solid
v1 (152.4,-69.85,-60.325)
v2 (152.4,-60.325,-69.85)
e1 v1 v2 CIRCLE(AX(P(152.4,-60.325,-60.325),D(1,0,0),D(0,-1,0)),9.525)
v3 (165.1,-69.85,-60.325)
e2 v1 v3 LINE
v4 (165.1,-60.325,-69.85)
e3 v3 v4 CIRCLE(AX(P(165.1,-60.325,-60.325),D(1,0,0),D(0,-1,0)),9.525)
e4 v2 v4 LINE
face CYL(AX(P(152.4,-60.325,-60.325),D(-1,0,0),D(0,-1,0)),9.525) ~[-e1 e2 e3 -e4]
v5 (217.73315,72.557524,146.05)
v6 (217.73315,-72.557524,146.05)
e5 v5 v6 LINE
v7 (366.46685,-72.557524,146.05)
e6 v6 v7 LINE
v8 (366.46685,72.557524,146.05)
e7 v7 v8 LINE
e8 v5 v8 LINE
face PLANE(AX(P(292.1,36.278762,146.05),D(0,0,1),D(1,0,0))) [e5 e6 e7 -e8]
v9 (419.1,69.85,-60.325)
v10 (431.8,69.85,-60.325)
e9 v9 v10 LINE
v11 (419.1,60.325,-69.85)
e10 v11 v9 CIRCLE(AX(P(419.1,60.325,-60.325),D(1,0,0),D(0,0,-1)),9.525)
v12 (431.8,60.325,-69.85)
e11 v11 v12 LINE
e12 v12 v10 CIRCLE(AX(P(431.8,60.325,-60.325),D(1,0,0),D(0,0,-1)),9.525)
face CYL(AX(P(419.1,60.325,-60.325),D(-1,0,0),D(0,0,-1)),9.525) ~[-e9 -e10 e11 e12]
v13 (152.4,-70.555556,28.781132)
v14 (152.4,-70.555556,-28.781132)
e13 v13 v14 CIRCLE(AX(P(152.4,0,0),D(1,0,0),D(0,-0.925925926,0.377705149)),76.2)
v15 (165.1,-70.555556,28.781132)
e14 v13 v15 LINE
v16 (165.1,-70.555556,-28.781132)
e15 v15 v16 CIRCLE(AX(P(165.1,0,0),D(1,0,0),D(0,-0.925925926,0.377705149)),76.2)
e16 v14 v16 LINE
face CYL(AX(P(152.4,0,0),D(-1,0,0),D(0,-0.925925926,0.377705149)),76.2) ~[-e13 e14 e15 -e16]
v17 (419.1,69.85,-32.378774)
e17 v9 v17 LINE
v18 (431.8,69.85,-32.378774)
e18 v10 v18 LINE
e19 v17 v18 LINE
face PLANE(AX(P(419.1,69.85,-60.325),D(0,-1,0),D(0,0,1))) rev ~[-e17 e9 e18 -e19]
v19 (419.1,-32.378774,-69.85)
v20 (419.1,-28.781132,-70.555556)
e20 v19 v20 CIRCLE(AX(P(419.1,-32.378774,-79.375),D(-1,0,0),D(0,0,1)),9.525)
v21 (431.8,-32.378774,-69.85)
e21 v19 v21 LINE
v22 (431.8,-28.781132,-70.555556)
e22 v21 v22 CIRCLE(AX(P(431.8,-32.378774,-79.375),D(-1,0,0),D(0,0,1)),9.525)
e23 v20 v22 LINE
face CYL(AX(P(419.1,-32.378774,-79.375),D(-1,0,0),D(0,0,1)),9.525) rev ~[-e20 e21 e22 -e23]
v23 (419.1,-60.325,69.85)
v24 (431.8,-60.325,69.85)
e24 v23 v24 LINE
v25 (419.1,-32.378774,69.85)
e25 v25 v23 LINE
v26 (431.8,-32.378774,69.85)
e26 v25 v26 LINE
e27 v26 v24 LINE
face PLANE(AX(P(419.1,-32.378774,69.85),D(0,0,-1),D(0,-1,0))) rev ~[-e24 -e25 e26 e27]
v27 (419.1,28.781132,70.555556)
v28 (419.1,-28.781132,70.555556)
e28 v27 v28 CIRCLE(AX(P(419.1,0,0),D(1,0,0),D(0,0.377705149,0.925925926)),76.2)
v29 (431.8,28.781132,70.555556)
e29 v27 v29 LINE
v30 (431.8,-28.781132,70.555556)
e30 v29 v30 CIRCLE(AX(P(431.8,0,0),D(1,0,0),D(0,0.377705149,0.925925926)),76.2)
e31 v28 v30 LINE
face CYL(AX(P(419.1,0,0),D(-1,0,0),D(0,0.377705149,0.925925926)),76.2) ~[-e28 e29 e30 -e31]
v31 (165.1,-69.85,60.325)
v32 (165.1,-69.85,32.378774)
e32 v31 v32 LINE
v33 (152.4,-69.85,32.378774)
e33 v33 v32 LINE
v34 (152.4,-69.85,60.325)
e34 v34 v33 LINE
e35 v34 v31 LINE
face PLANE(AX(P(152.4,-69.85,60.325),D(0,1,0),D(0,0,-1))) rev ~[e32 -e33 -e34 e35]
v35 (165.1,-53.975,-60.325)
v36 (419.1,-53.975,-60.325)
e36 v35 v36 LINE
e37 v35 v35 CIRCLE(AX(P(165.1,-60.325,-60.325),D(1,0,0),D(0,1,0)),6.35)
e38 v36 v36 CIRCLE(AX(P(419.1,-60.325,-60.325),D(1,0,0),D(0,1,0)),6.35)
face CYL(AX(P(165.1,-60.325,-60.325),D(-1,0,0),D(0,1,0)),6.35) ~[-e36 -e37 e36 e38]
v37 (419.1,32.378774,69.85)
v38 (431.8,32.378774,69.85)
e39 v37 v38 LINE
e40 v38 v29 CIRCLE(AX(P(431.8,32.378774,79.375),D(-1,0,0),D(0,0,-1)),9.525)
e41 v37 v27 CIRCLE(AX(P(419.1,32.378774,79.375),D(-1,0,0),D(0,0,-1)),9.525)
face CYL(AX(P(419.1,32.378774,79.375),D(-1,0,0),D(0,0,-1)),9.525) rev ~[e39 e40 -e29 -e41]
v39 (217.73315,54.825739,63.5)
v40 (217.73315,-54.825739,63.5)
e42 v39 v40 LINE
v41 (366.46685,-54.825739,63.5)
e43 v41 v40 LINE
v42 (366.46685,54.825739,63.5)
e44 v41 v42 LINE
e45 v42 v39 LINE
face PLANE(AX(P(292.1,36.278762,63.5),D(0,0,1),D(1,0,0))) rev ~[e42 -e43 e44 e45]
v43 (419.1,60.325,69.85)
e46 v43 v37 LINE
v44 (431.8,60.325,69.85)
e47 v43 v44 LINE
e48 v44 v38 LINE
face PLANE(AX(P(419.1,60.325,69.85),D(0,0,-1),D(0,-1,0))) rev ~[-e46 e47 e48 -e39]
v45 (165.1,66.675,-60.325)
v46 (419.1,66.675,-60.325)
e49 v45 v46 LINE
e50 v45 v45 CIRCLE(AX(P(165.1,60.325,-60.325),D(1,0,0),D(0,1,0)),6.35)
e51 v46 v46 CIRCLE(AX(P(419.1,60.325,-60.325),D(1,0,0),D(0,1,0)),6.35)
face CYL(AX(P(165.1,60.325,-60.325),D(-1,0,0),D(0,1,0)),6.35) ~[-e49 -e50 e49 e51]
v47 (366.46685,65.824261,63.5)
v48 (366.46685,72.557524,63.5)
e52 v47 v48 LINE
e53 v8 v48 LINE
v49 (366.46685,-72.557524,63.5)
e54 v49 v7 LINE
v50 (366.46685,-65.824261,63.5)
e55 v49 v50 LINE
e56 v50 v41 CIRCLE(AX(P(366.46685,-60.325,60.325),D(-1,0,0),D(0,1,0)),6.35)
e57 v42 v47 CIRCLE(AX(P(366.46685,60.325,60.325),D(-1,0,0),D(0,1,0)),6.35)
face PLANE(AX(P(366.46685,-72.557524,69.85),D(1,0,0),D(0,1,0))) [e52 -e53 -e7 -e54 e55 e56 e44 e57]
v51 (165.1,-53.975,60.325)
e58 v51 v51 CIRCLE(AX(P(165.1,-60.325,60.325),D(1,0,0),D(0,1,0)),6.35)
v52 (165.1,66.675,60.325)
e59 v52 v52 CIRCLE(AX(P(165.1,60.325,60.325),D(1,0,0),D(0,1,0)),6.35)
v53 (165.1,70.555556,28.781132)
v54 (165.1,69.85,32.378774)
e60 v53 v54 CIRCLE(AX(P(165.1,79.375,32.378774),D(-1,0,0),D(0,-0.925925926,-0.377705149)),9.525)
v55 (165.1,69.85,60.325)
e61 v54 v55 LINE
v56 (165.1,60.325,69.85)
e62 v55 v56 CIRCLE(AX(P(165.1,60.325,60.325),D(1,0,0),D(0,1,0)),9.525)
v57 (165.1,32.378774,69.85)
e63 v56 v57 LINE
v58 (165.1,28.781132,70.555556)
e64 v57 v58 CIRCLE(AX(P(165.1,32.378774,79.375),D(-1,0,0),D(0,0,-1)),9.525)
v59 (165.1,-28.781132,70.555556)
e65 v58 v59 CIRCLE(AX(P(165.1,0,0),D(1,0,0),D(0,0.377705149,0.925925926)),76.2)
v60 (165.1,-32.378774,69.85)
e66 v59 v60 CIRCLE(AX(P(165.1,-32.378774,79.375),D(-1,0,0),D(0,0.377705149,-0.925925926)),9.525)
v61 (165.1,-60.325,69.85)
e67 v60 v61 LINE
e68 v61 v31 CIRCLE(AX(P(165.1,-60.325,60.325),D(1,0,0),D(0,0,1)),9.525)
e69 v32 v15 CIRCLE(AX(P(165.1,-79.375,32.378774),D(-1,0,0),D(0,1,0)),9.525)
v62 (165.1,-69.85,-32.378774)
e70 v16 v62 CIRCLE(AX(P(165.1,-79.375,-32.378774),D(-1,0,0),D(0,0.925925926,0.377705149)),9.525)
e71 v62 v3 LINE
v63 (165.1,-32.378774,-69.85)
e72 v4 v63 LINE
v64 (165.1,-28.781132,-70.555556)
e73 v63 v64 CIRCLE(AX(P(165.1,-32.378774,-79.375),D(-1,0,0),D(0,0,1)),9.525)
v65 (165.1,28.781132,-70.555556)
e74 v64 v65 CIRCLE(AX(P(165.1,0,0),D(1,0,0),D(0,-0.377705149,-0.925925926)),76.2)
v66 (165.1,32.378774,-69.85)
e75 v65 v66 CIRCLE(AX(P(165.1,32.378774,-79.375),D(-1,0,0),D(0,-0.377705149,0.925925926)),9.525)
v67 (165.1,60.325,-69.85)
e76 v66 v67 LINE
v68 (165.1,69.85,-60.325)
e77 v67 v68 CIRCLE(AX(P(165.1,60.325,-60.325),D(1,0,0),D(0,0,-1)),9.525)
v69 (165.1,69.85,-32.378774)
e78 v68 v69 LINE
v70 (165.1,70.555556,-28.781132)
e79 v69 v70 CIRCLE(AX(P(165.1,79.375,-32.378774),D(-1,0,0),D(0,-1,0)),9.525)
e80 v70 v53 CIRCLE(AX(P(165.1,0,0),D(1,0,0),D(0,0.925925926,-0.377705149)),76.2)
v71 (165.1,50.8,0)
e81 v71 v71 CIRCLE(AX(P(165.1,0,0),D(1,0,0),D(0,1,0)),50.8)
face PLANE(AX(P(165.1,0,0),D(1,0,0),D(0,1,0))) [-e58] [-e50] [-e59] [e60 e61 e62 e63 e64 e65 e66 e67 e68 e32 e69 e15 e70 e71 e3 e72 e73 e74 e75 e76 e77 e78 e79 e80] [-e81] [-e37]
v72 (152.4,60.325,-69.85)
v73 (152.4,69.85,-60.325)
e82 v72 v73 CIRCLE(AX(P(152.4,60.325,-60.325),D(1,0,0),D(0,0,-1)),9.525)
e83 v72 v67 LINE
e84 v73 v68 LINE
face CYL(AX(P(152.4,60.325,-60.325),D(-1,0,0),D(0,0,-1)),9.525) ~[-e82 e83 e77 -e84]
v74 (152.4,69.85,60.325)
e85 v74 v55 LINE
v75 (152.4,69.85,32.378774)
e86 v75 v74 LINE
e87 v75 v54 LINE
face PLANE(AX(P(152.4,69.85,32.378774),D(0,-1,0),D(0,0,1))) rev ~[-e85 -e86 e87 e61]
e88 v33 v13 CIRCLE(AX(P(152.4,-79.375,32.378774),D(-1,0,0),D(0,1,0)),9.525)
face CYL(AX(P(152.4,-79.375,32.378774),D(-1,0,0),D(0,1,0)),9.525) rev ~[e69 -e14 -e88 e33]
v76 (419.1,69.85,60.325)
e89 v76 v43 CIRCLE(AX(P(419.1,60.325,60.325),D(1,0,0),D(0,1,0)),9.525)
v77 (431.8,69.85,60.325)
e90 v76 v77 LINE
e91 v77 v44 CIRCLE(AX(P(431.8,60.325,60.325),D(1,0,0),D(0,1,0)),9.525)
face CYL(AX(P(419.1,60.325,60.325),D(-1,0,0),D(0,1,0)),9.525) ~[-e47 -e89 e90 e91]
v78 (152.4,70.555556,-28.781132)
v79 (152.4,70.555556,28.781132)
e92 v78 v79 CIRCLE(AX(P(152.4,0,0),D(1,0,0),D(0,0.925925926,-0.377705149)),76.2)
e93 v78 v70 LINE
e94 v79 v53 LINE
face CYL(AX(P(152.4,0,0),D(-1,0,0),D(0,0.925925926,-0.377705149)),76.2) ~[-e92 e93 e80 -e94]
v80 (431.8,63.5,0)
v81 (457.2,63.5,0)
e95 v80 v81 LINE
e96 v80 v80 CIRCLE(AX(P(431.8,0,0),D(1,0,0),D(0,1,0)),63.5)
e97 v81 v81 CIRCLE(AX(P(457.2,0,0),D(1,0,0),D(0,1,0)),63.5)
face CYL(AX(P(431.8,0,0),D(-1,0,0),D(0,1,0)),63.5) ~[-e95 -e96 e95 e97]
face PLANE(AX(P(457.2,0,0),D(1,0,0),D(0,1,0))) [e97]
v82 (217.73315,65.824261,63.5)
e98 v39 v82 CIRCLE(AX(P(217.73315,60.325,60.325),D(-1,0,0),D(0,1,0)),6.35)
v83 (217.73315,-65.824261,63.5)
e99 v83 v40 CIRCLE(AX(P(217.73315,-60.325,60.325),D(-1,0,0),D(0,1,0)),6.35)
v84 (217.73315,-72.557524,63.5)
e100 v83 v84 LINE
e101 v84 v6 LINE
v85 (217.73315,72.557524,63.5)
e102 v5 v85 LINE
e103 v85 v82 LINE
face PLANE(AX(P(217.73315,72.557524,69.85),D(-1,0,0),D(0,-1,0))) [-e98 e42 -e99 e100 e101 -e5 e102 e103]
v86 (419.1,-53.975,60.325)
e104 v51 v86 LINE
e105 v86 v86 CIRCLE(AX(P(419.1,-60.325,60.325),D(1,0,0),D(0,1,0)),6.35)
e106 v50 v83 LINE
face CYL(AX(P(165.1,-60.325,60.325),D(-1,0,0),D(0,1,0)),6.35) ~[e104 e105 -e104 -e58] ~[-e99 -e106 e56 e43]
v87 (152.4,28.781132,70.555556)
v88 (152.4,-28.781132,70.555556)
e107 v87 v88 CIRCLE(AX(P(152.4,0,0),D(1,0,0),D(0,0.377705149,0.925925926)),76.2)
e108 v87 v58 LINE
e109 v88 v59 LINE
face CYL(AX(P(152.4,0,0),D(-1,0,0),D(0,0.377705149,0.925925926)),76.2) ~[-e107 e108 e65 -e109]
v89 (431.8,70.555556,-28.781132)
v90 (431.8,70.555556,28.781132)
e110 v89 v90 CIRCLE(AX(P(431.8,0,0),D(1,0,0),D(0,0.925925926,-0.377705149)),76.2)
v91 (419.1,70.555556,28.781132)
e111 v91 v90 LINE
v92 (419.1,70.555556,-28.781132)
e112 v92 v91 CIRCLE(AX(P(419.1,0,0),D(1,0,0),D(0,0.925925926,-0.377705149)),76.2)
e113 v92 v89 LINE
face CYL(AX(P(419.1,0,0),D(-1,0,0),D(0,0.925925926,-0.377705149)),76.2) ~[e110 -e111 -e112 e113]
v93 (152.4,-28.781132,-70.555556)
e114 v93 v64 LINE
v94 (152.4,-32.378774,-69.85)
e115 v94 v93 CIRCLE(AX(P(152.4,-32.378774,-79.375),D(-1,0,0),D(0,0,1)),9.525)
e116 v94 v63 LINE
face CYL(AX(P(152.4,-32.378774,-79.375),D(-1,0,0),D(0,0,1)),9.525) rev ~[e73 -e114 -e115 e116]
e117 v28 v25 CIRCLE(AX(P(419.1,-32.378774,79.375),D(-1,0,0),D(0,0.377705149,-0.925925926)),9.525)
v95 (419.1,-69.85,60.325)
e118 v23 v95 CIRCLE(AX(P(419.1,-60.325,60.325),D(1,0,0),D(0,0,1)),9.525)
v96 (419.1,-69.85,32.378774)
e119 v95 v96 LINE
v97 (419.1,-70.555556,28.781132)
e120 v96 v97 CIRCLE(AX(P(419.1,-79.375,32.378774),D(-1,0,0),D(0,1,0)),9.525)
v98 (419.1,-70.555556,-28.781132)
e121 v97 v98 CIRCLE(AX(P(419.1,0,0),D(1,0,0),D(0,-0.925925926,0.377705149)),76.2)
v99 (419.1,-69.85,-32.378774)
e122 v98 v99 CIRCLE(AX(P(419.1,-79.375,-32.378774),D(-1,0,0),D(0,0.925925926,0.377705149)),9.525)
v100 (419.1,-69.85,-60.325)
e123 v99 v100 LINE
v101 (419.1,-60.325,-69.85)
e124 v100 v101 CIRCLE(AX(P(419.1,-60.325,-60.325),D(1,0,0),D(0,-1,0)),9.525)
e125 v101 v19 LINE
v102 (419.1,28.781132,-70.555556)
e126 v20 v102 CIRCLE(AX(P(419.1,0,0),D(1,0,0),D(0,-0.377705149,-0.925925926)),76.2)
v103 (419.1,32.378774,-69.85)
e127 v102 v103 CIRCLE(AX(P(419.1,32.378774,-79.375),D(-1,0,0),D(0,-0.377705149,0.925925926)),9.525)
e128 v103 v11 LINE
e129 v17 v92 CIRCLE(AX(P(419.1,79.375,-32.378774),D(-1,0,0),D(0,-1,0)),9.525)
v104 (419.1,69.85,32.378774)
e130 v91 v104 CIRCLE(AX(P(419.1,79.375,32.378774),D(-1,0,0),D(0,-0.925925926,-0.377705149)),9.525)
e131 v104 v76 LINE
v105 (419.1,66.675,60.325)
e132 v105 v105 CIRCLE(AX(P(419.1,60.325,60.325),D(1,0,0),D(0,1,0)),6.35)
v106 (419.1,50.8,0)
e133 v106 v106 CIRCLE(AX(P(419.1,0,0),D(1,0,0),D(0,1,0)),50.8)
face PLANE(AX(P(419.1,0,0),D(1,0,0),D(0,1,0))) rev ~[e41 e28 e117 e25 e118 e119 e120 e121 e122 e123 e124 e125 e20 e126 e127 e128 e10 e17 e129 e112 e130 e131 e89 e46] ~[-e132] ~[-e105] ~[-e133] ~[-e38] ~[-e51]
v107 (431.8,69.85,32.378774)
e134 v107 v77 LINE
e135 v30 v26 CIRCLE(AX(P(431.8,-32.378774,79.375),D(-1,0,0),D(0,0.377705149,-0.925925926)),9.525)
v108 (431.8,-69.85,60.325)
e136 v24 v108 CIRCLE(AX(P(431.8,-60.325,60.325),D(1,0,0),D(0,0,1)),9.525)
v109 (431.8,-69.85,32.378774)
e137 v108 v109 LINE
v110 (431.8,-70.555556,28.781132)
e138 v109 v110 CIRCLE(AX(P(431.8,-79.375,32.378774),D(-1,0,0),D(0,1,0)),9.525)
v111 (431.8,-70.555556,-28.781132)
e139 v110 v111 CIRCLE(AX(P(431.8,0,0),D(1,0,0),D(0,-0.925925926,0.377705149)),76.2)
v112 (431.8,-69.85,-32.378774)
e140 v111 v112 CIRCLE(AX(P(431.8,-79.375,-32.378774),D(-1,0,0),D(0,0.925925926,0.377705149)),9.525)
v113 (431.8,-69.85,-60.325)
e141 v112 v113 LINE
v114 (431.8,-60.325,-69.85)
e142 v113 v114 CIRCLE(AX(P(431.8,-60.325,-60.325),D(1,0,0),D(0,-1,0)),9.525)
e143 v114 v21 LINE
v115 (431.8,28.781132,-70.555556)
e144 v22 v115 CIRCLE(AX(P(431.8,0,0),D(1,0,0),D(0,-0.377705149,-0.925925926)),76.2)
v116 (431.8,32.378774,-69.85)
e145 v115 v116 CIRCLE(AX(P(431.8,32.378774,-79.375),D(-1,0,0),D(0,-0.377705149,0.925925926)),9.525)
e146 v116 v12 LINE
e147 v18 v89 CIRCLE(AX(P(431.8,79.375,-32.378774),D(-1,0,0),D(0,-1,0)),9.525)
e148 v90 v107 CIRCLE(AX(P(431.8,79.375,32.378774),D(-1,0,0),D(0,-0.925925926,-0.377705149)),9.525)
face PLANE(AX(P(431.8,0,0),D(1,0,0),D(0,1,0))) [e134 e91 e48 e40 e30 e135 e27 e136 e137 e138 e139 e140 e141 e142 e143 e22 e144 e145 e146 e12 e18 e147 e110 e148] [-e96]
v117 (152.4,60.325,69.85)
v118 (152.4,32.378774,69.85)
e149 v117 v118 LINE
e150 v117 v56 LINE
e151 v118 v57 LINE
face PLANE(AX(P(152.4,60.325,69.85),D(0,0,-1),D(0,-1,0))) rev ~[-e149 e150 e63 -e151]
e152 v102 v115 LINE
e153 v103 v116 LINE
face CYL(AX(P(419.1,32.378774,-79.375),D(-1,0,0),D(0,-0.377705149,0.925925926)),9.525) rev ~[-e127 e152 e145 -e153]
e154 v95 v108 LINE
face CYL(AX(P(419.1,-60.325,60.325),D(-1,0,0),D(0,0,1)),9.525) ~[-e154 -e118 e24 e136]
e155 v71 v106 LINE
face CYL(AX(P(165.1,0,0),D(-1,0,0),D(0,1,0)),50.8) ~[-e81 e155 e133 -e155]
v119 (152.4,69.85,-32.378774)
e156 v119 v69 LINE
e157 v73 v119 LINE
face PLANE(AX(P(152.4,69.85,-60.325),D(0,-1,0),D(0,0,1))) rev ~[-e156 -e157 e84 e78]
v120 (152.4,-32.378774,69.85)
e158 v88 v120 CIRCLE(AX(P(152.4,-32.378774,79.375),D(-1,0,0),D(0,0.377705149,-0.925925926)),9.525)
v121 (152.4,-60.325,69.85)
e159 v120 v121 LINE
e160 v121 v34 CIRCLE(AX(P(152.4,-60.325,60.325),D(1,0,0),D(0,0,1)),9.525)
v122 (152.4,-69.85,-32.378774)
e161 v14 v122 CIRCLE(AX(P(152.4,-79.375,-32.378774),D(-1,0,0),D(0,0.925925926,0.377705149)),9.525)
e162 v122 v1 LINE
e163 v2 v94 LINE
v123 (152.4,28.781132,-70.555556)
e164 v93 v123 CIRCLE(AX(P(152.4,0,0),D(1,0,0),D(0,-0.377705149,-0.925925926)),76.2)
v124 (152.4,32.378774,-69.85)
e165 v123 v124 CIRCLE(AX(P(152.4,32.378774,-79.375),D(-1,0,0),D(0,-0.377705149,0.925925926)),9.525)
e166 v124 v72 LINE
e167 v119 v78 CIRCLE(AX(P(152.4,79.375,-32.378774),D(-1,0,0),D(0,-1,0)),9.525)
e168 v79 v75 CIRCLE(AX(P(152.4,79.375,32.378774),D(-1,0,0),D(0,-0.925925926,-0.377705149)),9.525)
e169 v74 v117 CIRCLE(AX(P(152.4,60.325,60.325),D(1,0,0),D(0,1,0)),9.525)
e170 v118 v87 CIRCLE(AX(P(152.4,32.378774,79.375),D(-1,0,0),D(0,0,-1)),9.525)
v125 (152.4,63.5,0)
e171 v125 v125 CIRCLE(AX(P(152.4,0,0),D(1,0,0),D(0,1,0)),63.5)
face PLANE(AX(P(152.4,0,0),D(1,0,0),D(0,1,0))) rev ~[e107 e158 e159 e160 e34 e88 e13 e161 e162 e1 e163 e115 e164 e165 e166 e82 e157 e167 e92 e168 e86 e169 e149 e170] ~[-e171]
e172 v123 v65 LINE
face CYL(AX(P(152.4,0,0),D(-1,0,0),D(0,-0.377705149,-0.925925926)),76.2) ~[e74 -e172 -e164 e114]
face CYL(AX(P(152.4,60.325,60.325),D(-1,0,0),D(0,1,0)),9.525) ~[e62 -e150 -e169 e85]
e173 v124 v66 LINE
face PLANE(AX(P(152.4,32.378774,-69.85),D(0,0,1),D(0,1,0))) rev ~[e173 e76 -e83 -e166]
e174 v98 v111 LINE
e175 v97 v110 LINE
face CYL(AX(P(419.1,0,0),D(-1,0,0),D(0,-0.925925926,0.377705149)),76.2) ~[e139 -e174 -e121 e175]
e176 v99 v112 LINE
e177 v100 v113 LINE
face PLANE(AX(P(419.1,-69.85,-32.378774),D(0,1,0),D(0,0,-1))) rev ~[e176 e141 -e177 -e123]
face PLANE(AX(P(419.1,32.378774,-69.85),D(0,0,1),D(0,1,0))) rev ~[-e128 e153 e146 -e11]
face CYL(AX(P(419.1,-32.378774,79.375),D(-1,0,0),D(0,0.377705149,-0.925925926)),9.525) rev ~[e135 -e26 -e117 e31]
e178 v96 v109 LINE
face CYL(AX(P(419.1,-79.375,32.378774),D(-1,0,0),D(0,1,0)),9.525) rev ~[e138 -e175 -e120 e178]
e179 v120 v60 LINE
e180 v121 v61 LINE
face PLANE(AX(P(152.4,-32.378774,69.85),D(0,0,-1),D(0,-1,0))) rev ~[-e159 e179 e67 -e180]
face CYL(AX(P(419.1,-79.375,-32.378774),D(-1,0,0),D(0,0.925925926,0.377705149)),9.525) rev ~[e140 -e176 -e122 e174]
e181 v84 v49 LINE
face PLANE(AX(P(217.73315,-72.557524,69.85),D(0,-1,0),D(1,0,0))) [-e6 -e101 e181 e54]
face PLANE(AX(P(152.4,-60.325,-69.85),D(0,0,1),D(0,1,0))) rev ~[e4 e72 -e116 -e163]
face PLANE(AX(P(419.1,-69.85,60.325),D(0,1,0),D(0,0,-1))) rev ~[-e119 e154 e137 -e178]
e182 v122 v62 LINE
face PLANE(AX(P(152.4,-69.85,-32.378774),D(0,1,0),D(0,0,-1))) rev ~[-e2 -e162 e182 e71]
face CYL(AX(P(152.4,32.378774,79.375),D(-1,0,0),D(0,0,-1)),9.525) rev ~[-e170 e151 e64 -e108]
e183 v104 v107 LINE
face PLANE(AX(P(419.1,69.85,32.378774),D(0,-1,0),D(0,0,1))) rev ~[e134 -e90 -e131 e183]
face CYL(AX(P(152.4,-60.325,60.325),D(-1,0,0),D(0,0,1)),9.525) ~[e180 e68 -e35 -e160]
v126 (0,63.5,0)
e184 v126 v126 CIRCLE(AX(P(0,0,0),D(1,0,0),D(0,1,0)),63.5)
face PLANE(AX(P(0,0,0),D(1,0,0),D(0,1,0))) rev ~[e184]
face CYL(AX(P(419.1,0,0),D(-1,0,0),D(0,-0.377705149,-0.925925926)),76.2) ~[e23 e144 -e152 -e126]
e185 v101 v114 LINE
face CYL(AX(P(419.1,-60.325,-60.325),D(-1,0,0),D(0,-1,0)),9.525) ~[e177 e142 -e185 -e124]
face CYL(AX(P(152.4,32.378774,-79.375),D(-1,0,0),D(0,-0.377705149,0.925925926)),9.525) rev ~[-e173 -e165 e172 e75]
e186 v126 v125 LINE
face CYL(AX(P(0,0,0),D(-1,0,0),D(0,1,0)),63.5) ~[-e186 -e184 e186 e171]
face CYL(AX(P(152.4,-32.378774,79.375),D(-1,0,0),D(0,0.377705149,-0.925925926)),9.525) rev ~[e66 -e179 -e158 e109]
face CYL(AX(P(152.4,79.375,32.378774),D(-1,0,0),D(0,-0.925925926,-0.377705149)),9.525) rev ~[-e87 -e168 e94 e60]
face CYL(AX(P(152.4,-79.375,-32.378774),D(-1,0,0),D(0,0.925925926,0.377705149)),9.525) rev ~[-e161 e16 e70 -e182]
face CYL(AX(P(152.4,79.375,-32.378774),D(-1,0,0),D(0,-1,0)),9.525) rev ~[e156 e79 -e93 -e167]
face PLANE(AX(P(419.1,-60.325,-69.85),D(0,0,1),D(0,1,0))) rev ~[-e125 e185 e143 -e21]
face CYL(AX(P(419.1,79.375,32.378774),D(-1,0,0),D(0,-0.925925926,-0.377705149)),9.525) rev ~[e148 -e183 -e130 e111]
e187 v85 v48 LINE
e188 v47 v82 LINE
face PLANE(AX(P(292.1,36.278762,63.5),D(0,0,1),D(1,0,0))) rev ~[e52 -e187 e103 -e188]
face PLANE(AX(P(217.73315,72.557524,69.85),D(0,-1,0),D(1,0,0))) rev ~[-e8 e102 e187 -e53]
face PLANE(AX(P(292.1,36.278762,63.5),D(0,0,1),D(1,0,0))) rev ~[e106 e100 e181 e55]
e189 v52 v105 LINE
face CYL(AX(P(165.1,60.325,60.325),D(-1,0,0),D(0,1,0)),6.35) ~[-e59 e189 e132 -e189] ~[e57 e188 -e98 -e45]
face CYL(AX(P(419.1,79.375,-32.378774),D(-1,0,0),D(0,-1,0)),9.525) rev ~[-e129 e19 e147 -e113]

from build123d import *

# Parameters (mm, degrees)
F0_R          = 63.5
F1_DEPTH      = 152.4
F2_R          = 63.5
F3_DEPTH      = 12.7
F4_R          = 50.8
F4_R_2        = 6.35
F5_DEPTH      = 254
F6_R          = 50.8
F7_DEPTH      = 12.7
F8_W          = 148.7337000847
F8_H          = 72.5575238466
F9_DEPTH      = 76.2
F9_DEPTH_BACK = 6.35
F10_R         = 63.5
F11_DEPTH     = 25.4


with BuildPart() as f1:
    # F0 (on Right) → F1 (new body)
    with BuildSketch(Plane.YZ):
        Circle(F0_R)
    extrude(amount=F1_DEPTH)

    # F2 (on face) → F3 (join)
    with BuildSketch(Plane.YZ.offset(152.4)):
        with BuildLine():
            ThreePointArc((-69.85, 32.3787739113), (-70.0280530831, 30.5456868066), (-70.5555555556, 28.7811323656))
            ThreePointArc((-70.5555555556, 28.7811323656), (-76.2, 0), (-70.5555555556, -28.7811323656))
            ThreePointArc((-70.5555555556, -28.7811323656), (-70.0280530831, -30.5456868066), (-69.85, -32.3787739113))
            Line((-69.85, -32.3787739113), (-69.85, -60.325))
            ThreePointArc((-69.85, -60.325), (-67.0601920908, -67.0601920908), (-60.325, -69.85))
            Line((-60.325, -69.85), (-32.3787739113, -69.85))
            ThreePointArc((-32.3787739113, -69.85), (-30.5456868066, -70.0280530831), (-28.7811323656, -70.5555555556))
            ThreePointArc((-28.7811323656, -70.5555555556), (0, -76.2), (28.7811323656, -70.5555555556))
            ThreePointArc((28.7811323656, -70.5555555556), (30.5456868066, -70.0280530831), (32.3787739113, -69.85))
            Line((32.3787739113, -69.85), (60.325, -69.85))
            ThreePointArc((60.325, -69.85), (67.0601920908, -67.0601920908), (69.85, -60.325))
            Line((69.85, -60.325), (69.85, -32.3787739113))
            ThreePointArc((69.85, -32.3787739113), (70.0280530831, -30.5456868066), (70.5555555556, -28.7811323656))
            ThreePointArc((70.5555555556, -28.7811323656), (76.2, 0), (70.5555555556, 28.7811323656))
            ThreePointArc((70.5555555556, 28.7811323656), (70.0280530831, 30.5456868066), (69.85, 32.3787739113))
            Line((69.85, 32.3787739113), (69.85, 60.325))
            ThreePointArc((69.85, 60.325), (67.0601920908, 67.0601920908), (60.325, 69.85))
            Line((60.325, 69.85), (32.3787739113, 69.85))
            ThreePointArc((32.3787739113, 69.85), (30.5456868066, 70.0280530831), (28.7811323656, 70.5555555556))
            ThreePointArc((28.7811323656, 70.5555555556), (0, 76.2), (-28.7811323656, 70.5555555556))
            ThreePointArc((-28.7811323656, 70.5555555556), (-30.5456868066, 70.0280530831), (-32.3787739113, 69.85))
            Line((-32.3787739113, 69.85), (-60.325, 69.85))
            ThreePointArc((-60.325, 69.85), (-67.0601920908, 67.0601920908), (-69.85, 60.325))
            Line((-69.85, 60.325), (-69.85, 32.3787739113))
        make_face()
        Circle(F2_R, mode=Mode.SUBTRACT)
        Circle(F2_R)
    extrude(amount=F3_DEPTH)

    # F4 (on face) → F5 (join)
    with BuildSketch(Plane.YZ.offset(165.1)):
        Circle(F4_R)
        with Locations((60.325, 60.325)):
            Circle(F4_R_2)
        with Locations((60.325, -60.325)):
            Circle(F4_R_2)
        with Locations((-60.325, -60.325)):
            Circle(F4_R_2)
        with Locations((-60.325, 60.325)):
            Circle(F4_R_2)
    extrude(amount=F5_DEPTH)

    # F6 (on face) → F7 (join)
    with BuildSketch(Plane.YZ.offset(419.1)):
        with BuildLine():
            ThreePointArc((-69.85, 32.3787739113), (-70.0280530831, 30.5456868066), (-70.5555555556, 28.7811323656))
            ThreePointArc((-70.5555555556, 28.7811323656), (-76.2, 0), (-70.5555555556, -28.7811323656))
            ThreePointArc((-70.5555555556, -28.7811323656), (-70.0280530831, -30.5456868066), (-69.85, -32.3787739113))
            Line((-69.85, -32.3787739113), (-69.85, -60.325))
            ThreePointArc((-69.85, -60.325), (-67.0601920908, -67.0601920908), (-60.325, -69.85))
            Line((-60.325, -69.85), (-32.3787739113, -69.85))
            ThreePointArc((-32.3787739113, -69.85), (-30.5456868066, -70.0280530831), (-28.7811323656, -70.5555555556))
            ThreePointArc((-28.7811323656, -70.5555555556), (0, -76.2), (28.7811323656, -70.5555555556))
            ThreePointArc((28.7811323656, -70.5555555556), (30.5456868066, -70.0280530831), (32.3787739113, -69.85))
            Line((32.3787739113, -69.85), (60.325, -69.85))
            ThreePointArc((60.325, -69.85), (67.0601920908, -67.0601920908), (69.85, -60.325))
            Line((69.85, -60.325), (69.85, -32.3787739113))
            ThreePointArc((69.85, -32.3787739113), (70.0280530831, -30.5456868066), (70.5555555556, -28.7811323656))
            ThreePointArc((70.5555555556, -28.7811323656), (76.2, 0), (70.5555555556, 28.7811323656))
            ThreePointArc((70.5555555556, 28.7811323656), (70.0280530831, 30.5456868066), (69.85, 32.3787739113))
            Line((69.85, 32.3787739113), (69.85, 60.325))
            ThreePointArc((69.85, 60.325), (67.0601920908, 67.0601920908), (60.325, 69.85))
            Line((60.325, 69.85), (32.3787739113, 69.85))
            ThreePointArc((32.3787739113, 69.85), (30.5456868066, 70.0280530831), (28.7811323656, 70.5555555556))
            ThreePointArc((28.7811323656, 70.5555555556), (0, 76.2), (-28.7811323656, 70.5555555556))
            ThreePointArc((-28.7811323656, 70.5555555556), (-30.5456868066, 70.0280530831), (-32.3787739113, 69.85))
            Line((-32.3787739113, 69.85), (-60.325, 69.85))
            ThreePointArc((-60.325, 69.85), (-67.0601920908, 67.0601920908), (-69.85, 60.325))
            Line((-69.85, 60.325), (-69.85, 32.3787739113))
        make_face()
        Circle(F6_R, mode=Mode.SUBTRACT)
        Circle(F6_R)
    extrude(amount=F7_DEPTH)

    # F8 (on face) → F9 (join, two sides)
    with BuildSketch(Plane.XY.offset(69.85)) as f9_sk:
        with Locations((292.1, 36.2787619233)):
            Rectangle(F8_W, F8_H)
        with Locations((292.1, -36.2787619233)):
            Rectangle(F8_W, F8_H)
    extrude(amount=F9_DEPTH)
    extrude(f9_sk.sketch, amount=-F9_DEPTH_BACK)

    # F10 (on face) → F11 (join)
    with BuildSketch(Plane.YZ.offset(431.8)):
        Circle(F10_R)
    extrude(amount=F11_DEPTH)


solid = f1.part
